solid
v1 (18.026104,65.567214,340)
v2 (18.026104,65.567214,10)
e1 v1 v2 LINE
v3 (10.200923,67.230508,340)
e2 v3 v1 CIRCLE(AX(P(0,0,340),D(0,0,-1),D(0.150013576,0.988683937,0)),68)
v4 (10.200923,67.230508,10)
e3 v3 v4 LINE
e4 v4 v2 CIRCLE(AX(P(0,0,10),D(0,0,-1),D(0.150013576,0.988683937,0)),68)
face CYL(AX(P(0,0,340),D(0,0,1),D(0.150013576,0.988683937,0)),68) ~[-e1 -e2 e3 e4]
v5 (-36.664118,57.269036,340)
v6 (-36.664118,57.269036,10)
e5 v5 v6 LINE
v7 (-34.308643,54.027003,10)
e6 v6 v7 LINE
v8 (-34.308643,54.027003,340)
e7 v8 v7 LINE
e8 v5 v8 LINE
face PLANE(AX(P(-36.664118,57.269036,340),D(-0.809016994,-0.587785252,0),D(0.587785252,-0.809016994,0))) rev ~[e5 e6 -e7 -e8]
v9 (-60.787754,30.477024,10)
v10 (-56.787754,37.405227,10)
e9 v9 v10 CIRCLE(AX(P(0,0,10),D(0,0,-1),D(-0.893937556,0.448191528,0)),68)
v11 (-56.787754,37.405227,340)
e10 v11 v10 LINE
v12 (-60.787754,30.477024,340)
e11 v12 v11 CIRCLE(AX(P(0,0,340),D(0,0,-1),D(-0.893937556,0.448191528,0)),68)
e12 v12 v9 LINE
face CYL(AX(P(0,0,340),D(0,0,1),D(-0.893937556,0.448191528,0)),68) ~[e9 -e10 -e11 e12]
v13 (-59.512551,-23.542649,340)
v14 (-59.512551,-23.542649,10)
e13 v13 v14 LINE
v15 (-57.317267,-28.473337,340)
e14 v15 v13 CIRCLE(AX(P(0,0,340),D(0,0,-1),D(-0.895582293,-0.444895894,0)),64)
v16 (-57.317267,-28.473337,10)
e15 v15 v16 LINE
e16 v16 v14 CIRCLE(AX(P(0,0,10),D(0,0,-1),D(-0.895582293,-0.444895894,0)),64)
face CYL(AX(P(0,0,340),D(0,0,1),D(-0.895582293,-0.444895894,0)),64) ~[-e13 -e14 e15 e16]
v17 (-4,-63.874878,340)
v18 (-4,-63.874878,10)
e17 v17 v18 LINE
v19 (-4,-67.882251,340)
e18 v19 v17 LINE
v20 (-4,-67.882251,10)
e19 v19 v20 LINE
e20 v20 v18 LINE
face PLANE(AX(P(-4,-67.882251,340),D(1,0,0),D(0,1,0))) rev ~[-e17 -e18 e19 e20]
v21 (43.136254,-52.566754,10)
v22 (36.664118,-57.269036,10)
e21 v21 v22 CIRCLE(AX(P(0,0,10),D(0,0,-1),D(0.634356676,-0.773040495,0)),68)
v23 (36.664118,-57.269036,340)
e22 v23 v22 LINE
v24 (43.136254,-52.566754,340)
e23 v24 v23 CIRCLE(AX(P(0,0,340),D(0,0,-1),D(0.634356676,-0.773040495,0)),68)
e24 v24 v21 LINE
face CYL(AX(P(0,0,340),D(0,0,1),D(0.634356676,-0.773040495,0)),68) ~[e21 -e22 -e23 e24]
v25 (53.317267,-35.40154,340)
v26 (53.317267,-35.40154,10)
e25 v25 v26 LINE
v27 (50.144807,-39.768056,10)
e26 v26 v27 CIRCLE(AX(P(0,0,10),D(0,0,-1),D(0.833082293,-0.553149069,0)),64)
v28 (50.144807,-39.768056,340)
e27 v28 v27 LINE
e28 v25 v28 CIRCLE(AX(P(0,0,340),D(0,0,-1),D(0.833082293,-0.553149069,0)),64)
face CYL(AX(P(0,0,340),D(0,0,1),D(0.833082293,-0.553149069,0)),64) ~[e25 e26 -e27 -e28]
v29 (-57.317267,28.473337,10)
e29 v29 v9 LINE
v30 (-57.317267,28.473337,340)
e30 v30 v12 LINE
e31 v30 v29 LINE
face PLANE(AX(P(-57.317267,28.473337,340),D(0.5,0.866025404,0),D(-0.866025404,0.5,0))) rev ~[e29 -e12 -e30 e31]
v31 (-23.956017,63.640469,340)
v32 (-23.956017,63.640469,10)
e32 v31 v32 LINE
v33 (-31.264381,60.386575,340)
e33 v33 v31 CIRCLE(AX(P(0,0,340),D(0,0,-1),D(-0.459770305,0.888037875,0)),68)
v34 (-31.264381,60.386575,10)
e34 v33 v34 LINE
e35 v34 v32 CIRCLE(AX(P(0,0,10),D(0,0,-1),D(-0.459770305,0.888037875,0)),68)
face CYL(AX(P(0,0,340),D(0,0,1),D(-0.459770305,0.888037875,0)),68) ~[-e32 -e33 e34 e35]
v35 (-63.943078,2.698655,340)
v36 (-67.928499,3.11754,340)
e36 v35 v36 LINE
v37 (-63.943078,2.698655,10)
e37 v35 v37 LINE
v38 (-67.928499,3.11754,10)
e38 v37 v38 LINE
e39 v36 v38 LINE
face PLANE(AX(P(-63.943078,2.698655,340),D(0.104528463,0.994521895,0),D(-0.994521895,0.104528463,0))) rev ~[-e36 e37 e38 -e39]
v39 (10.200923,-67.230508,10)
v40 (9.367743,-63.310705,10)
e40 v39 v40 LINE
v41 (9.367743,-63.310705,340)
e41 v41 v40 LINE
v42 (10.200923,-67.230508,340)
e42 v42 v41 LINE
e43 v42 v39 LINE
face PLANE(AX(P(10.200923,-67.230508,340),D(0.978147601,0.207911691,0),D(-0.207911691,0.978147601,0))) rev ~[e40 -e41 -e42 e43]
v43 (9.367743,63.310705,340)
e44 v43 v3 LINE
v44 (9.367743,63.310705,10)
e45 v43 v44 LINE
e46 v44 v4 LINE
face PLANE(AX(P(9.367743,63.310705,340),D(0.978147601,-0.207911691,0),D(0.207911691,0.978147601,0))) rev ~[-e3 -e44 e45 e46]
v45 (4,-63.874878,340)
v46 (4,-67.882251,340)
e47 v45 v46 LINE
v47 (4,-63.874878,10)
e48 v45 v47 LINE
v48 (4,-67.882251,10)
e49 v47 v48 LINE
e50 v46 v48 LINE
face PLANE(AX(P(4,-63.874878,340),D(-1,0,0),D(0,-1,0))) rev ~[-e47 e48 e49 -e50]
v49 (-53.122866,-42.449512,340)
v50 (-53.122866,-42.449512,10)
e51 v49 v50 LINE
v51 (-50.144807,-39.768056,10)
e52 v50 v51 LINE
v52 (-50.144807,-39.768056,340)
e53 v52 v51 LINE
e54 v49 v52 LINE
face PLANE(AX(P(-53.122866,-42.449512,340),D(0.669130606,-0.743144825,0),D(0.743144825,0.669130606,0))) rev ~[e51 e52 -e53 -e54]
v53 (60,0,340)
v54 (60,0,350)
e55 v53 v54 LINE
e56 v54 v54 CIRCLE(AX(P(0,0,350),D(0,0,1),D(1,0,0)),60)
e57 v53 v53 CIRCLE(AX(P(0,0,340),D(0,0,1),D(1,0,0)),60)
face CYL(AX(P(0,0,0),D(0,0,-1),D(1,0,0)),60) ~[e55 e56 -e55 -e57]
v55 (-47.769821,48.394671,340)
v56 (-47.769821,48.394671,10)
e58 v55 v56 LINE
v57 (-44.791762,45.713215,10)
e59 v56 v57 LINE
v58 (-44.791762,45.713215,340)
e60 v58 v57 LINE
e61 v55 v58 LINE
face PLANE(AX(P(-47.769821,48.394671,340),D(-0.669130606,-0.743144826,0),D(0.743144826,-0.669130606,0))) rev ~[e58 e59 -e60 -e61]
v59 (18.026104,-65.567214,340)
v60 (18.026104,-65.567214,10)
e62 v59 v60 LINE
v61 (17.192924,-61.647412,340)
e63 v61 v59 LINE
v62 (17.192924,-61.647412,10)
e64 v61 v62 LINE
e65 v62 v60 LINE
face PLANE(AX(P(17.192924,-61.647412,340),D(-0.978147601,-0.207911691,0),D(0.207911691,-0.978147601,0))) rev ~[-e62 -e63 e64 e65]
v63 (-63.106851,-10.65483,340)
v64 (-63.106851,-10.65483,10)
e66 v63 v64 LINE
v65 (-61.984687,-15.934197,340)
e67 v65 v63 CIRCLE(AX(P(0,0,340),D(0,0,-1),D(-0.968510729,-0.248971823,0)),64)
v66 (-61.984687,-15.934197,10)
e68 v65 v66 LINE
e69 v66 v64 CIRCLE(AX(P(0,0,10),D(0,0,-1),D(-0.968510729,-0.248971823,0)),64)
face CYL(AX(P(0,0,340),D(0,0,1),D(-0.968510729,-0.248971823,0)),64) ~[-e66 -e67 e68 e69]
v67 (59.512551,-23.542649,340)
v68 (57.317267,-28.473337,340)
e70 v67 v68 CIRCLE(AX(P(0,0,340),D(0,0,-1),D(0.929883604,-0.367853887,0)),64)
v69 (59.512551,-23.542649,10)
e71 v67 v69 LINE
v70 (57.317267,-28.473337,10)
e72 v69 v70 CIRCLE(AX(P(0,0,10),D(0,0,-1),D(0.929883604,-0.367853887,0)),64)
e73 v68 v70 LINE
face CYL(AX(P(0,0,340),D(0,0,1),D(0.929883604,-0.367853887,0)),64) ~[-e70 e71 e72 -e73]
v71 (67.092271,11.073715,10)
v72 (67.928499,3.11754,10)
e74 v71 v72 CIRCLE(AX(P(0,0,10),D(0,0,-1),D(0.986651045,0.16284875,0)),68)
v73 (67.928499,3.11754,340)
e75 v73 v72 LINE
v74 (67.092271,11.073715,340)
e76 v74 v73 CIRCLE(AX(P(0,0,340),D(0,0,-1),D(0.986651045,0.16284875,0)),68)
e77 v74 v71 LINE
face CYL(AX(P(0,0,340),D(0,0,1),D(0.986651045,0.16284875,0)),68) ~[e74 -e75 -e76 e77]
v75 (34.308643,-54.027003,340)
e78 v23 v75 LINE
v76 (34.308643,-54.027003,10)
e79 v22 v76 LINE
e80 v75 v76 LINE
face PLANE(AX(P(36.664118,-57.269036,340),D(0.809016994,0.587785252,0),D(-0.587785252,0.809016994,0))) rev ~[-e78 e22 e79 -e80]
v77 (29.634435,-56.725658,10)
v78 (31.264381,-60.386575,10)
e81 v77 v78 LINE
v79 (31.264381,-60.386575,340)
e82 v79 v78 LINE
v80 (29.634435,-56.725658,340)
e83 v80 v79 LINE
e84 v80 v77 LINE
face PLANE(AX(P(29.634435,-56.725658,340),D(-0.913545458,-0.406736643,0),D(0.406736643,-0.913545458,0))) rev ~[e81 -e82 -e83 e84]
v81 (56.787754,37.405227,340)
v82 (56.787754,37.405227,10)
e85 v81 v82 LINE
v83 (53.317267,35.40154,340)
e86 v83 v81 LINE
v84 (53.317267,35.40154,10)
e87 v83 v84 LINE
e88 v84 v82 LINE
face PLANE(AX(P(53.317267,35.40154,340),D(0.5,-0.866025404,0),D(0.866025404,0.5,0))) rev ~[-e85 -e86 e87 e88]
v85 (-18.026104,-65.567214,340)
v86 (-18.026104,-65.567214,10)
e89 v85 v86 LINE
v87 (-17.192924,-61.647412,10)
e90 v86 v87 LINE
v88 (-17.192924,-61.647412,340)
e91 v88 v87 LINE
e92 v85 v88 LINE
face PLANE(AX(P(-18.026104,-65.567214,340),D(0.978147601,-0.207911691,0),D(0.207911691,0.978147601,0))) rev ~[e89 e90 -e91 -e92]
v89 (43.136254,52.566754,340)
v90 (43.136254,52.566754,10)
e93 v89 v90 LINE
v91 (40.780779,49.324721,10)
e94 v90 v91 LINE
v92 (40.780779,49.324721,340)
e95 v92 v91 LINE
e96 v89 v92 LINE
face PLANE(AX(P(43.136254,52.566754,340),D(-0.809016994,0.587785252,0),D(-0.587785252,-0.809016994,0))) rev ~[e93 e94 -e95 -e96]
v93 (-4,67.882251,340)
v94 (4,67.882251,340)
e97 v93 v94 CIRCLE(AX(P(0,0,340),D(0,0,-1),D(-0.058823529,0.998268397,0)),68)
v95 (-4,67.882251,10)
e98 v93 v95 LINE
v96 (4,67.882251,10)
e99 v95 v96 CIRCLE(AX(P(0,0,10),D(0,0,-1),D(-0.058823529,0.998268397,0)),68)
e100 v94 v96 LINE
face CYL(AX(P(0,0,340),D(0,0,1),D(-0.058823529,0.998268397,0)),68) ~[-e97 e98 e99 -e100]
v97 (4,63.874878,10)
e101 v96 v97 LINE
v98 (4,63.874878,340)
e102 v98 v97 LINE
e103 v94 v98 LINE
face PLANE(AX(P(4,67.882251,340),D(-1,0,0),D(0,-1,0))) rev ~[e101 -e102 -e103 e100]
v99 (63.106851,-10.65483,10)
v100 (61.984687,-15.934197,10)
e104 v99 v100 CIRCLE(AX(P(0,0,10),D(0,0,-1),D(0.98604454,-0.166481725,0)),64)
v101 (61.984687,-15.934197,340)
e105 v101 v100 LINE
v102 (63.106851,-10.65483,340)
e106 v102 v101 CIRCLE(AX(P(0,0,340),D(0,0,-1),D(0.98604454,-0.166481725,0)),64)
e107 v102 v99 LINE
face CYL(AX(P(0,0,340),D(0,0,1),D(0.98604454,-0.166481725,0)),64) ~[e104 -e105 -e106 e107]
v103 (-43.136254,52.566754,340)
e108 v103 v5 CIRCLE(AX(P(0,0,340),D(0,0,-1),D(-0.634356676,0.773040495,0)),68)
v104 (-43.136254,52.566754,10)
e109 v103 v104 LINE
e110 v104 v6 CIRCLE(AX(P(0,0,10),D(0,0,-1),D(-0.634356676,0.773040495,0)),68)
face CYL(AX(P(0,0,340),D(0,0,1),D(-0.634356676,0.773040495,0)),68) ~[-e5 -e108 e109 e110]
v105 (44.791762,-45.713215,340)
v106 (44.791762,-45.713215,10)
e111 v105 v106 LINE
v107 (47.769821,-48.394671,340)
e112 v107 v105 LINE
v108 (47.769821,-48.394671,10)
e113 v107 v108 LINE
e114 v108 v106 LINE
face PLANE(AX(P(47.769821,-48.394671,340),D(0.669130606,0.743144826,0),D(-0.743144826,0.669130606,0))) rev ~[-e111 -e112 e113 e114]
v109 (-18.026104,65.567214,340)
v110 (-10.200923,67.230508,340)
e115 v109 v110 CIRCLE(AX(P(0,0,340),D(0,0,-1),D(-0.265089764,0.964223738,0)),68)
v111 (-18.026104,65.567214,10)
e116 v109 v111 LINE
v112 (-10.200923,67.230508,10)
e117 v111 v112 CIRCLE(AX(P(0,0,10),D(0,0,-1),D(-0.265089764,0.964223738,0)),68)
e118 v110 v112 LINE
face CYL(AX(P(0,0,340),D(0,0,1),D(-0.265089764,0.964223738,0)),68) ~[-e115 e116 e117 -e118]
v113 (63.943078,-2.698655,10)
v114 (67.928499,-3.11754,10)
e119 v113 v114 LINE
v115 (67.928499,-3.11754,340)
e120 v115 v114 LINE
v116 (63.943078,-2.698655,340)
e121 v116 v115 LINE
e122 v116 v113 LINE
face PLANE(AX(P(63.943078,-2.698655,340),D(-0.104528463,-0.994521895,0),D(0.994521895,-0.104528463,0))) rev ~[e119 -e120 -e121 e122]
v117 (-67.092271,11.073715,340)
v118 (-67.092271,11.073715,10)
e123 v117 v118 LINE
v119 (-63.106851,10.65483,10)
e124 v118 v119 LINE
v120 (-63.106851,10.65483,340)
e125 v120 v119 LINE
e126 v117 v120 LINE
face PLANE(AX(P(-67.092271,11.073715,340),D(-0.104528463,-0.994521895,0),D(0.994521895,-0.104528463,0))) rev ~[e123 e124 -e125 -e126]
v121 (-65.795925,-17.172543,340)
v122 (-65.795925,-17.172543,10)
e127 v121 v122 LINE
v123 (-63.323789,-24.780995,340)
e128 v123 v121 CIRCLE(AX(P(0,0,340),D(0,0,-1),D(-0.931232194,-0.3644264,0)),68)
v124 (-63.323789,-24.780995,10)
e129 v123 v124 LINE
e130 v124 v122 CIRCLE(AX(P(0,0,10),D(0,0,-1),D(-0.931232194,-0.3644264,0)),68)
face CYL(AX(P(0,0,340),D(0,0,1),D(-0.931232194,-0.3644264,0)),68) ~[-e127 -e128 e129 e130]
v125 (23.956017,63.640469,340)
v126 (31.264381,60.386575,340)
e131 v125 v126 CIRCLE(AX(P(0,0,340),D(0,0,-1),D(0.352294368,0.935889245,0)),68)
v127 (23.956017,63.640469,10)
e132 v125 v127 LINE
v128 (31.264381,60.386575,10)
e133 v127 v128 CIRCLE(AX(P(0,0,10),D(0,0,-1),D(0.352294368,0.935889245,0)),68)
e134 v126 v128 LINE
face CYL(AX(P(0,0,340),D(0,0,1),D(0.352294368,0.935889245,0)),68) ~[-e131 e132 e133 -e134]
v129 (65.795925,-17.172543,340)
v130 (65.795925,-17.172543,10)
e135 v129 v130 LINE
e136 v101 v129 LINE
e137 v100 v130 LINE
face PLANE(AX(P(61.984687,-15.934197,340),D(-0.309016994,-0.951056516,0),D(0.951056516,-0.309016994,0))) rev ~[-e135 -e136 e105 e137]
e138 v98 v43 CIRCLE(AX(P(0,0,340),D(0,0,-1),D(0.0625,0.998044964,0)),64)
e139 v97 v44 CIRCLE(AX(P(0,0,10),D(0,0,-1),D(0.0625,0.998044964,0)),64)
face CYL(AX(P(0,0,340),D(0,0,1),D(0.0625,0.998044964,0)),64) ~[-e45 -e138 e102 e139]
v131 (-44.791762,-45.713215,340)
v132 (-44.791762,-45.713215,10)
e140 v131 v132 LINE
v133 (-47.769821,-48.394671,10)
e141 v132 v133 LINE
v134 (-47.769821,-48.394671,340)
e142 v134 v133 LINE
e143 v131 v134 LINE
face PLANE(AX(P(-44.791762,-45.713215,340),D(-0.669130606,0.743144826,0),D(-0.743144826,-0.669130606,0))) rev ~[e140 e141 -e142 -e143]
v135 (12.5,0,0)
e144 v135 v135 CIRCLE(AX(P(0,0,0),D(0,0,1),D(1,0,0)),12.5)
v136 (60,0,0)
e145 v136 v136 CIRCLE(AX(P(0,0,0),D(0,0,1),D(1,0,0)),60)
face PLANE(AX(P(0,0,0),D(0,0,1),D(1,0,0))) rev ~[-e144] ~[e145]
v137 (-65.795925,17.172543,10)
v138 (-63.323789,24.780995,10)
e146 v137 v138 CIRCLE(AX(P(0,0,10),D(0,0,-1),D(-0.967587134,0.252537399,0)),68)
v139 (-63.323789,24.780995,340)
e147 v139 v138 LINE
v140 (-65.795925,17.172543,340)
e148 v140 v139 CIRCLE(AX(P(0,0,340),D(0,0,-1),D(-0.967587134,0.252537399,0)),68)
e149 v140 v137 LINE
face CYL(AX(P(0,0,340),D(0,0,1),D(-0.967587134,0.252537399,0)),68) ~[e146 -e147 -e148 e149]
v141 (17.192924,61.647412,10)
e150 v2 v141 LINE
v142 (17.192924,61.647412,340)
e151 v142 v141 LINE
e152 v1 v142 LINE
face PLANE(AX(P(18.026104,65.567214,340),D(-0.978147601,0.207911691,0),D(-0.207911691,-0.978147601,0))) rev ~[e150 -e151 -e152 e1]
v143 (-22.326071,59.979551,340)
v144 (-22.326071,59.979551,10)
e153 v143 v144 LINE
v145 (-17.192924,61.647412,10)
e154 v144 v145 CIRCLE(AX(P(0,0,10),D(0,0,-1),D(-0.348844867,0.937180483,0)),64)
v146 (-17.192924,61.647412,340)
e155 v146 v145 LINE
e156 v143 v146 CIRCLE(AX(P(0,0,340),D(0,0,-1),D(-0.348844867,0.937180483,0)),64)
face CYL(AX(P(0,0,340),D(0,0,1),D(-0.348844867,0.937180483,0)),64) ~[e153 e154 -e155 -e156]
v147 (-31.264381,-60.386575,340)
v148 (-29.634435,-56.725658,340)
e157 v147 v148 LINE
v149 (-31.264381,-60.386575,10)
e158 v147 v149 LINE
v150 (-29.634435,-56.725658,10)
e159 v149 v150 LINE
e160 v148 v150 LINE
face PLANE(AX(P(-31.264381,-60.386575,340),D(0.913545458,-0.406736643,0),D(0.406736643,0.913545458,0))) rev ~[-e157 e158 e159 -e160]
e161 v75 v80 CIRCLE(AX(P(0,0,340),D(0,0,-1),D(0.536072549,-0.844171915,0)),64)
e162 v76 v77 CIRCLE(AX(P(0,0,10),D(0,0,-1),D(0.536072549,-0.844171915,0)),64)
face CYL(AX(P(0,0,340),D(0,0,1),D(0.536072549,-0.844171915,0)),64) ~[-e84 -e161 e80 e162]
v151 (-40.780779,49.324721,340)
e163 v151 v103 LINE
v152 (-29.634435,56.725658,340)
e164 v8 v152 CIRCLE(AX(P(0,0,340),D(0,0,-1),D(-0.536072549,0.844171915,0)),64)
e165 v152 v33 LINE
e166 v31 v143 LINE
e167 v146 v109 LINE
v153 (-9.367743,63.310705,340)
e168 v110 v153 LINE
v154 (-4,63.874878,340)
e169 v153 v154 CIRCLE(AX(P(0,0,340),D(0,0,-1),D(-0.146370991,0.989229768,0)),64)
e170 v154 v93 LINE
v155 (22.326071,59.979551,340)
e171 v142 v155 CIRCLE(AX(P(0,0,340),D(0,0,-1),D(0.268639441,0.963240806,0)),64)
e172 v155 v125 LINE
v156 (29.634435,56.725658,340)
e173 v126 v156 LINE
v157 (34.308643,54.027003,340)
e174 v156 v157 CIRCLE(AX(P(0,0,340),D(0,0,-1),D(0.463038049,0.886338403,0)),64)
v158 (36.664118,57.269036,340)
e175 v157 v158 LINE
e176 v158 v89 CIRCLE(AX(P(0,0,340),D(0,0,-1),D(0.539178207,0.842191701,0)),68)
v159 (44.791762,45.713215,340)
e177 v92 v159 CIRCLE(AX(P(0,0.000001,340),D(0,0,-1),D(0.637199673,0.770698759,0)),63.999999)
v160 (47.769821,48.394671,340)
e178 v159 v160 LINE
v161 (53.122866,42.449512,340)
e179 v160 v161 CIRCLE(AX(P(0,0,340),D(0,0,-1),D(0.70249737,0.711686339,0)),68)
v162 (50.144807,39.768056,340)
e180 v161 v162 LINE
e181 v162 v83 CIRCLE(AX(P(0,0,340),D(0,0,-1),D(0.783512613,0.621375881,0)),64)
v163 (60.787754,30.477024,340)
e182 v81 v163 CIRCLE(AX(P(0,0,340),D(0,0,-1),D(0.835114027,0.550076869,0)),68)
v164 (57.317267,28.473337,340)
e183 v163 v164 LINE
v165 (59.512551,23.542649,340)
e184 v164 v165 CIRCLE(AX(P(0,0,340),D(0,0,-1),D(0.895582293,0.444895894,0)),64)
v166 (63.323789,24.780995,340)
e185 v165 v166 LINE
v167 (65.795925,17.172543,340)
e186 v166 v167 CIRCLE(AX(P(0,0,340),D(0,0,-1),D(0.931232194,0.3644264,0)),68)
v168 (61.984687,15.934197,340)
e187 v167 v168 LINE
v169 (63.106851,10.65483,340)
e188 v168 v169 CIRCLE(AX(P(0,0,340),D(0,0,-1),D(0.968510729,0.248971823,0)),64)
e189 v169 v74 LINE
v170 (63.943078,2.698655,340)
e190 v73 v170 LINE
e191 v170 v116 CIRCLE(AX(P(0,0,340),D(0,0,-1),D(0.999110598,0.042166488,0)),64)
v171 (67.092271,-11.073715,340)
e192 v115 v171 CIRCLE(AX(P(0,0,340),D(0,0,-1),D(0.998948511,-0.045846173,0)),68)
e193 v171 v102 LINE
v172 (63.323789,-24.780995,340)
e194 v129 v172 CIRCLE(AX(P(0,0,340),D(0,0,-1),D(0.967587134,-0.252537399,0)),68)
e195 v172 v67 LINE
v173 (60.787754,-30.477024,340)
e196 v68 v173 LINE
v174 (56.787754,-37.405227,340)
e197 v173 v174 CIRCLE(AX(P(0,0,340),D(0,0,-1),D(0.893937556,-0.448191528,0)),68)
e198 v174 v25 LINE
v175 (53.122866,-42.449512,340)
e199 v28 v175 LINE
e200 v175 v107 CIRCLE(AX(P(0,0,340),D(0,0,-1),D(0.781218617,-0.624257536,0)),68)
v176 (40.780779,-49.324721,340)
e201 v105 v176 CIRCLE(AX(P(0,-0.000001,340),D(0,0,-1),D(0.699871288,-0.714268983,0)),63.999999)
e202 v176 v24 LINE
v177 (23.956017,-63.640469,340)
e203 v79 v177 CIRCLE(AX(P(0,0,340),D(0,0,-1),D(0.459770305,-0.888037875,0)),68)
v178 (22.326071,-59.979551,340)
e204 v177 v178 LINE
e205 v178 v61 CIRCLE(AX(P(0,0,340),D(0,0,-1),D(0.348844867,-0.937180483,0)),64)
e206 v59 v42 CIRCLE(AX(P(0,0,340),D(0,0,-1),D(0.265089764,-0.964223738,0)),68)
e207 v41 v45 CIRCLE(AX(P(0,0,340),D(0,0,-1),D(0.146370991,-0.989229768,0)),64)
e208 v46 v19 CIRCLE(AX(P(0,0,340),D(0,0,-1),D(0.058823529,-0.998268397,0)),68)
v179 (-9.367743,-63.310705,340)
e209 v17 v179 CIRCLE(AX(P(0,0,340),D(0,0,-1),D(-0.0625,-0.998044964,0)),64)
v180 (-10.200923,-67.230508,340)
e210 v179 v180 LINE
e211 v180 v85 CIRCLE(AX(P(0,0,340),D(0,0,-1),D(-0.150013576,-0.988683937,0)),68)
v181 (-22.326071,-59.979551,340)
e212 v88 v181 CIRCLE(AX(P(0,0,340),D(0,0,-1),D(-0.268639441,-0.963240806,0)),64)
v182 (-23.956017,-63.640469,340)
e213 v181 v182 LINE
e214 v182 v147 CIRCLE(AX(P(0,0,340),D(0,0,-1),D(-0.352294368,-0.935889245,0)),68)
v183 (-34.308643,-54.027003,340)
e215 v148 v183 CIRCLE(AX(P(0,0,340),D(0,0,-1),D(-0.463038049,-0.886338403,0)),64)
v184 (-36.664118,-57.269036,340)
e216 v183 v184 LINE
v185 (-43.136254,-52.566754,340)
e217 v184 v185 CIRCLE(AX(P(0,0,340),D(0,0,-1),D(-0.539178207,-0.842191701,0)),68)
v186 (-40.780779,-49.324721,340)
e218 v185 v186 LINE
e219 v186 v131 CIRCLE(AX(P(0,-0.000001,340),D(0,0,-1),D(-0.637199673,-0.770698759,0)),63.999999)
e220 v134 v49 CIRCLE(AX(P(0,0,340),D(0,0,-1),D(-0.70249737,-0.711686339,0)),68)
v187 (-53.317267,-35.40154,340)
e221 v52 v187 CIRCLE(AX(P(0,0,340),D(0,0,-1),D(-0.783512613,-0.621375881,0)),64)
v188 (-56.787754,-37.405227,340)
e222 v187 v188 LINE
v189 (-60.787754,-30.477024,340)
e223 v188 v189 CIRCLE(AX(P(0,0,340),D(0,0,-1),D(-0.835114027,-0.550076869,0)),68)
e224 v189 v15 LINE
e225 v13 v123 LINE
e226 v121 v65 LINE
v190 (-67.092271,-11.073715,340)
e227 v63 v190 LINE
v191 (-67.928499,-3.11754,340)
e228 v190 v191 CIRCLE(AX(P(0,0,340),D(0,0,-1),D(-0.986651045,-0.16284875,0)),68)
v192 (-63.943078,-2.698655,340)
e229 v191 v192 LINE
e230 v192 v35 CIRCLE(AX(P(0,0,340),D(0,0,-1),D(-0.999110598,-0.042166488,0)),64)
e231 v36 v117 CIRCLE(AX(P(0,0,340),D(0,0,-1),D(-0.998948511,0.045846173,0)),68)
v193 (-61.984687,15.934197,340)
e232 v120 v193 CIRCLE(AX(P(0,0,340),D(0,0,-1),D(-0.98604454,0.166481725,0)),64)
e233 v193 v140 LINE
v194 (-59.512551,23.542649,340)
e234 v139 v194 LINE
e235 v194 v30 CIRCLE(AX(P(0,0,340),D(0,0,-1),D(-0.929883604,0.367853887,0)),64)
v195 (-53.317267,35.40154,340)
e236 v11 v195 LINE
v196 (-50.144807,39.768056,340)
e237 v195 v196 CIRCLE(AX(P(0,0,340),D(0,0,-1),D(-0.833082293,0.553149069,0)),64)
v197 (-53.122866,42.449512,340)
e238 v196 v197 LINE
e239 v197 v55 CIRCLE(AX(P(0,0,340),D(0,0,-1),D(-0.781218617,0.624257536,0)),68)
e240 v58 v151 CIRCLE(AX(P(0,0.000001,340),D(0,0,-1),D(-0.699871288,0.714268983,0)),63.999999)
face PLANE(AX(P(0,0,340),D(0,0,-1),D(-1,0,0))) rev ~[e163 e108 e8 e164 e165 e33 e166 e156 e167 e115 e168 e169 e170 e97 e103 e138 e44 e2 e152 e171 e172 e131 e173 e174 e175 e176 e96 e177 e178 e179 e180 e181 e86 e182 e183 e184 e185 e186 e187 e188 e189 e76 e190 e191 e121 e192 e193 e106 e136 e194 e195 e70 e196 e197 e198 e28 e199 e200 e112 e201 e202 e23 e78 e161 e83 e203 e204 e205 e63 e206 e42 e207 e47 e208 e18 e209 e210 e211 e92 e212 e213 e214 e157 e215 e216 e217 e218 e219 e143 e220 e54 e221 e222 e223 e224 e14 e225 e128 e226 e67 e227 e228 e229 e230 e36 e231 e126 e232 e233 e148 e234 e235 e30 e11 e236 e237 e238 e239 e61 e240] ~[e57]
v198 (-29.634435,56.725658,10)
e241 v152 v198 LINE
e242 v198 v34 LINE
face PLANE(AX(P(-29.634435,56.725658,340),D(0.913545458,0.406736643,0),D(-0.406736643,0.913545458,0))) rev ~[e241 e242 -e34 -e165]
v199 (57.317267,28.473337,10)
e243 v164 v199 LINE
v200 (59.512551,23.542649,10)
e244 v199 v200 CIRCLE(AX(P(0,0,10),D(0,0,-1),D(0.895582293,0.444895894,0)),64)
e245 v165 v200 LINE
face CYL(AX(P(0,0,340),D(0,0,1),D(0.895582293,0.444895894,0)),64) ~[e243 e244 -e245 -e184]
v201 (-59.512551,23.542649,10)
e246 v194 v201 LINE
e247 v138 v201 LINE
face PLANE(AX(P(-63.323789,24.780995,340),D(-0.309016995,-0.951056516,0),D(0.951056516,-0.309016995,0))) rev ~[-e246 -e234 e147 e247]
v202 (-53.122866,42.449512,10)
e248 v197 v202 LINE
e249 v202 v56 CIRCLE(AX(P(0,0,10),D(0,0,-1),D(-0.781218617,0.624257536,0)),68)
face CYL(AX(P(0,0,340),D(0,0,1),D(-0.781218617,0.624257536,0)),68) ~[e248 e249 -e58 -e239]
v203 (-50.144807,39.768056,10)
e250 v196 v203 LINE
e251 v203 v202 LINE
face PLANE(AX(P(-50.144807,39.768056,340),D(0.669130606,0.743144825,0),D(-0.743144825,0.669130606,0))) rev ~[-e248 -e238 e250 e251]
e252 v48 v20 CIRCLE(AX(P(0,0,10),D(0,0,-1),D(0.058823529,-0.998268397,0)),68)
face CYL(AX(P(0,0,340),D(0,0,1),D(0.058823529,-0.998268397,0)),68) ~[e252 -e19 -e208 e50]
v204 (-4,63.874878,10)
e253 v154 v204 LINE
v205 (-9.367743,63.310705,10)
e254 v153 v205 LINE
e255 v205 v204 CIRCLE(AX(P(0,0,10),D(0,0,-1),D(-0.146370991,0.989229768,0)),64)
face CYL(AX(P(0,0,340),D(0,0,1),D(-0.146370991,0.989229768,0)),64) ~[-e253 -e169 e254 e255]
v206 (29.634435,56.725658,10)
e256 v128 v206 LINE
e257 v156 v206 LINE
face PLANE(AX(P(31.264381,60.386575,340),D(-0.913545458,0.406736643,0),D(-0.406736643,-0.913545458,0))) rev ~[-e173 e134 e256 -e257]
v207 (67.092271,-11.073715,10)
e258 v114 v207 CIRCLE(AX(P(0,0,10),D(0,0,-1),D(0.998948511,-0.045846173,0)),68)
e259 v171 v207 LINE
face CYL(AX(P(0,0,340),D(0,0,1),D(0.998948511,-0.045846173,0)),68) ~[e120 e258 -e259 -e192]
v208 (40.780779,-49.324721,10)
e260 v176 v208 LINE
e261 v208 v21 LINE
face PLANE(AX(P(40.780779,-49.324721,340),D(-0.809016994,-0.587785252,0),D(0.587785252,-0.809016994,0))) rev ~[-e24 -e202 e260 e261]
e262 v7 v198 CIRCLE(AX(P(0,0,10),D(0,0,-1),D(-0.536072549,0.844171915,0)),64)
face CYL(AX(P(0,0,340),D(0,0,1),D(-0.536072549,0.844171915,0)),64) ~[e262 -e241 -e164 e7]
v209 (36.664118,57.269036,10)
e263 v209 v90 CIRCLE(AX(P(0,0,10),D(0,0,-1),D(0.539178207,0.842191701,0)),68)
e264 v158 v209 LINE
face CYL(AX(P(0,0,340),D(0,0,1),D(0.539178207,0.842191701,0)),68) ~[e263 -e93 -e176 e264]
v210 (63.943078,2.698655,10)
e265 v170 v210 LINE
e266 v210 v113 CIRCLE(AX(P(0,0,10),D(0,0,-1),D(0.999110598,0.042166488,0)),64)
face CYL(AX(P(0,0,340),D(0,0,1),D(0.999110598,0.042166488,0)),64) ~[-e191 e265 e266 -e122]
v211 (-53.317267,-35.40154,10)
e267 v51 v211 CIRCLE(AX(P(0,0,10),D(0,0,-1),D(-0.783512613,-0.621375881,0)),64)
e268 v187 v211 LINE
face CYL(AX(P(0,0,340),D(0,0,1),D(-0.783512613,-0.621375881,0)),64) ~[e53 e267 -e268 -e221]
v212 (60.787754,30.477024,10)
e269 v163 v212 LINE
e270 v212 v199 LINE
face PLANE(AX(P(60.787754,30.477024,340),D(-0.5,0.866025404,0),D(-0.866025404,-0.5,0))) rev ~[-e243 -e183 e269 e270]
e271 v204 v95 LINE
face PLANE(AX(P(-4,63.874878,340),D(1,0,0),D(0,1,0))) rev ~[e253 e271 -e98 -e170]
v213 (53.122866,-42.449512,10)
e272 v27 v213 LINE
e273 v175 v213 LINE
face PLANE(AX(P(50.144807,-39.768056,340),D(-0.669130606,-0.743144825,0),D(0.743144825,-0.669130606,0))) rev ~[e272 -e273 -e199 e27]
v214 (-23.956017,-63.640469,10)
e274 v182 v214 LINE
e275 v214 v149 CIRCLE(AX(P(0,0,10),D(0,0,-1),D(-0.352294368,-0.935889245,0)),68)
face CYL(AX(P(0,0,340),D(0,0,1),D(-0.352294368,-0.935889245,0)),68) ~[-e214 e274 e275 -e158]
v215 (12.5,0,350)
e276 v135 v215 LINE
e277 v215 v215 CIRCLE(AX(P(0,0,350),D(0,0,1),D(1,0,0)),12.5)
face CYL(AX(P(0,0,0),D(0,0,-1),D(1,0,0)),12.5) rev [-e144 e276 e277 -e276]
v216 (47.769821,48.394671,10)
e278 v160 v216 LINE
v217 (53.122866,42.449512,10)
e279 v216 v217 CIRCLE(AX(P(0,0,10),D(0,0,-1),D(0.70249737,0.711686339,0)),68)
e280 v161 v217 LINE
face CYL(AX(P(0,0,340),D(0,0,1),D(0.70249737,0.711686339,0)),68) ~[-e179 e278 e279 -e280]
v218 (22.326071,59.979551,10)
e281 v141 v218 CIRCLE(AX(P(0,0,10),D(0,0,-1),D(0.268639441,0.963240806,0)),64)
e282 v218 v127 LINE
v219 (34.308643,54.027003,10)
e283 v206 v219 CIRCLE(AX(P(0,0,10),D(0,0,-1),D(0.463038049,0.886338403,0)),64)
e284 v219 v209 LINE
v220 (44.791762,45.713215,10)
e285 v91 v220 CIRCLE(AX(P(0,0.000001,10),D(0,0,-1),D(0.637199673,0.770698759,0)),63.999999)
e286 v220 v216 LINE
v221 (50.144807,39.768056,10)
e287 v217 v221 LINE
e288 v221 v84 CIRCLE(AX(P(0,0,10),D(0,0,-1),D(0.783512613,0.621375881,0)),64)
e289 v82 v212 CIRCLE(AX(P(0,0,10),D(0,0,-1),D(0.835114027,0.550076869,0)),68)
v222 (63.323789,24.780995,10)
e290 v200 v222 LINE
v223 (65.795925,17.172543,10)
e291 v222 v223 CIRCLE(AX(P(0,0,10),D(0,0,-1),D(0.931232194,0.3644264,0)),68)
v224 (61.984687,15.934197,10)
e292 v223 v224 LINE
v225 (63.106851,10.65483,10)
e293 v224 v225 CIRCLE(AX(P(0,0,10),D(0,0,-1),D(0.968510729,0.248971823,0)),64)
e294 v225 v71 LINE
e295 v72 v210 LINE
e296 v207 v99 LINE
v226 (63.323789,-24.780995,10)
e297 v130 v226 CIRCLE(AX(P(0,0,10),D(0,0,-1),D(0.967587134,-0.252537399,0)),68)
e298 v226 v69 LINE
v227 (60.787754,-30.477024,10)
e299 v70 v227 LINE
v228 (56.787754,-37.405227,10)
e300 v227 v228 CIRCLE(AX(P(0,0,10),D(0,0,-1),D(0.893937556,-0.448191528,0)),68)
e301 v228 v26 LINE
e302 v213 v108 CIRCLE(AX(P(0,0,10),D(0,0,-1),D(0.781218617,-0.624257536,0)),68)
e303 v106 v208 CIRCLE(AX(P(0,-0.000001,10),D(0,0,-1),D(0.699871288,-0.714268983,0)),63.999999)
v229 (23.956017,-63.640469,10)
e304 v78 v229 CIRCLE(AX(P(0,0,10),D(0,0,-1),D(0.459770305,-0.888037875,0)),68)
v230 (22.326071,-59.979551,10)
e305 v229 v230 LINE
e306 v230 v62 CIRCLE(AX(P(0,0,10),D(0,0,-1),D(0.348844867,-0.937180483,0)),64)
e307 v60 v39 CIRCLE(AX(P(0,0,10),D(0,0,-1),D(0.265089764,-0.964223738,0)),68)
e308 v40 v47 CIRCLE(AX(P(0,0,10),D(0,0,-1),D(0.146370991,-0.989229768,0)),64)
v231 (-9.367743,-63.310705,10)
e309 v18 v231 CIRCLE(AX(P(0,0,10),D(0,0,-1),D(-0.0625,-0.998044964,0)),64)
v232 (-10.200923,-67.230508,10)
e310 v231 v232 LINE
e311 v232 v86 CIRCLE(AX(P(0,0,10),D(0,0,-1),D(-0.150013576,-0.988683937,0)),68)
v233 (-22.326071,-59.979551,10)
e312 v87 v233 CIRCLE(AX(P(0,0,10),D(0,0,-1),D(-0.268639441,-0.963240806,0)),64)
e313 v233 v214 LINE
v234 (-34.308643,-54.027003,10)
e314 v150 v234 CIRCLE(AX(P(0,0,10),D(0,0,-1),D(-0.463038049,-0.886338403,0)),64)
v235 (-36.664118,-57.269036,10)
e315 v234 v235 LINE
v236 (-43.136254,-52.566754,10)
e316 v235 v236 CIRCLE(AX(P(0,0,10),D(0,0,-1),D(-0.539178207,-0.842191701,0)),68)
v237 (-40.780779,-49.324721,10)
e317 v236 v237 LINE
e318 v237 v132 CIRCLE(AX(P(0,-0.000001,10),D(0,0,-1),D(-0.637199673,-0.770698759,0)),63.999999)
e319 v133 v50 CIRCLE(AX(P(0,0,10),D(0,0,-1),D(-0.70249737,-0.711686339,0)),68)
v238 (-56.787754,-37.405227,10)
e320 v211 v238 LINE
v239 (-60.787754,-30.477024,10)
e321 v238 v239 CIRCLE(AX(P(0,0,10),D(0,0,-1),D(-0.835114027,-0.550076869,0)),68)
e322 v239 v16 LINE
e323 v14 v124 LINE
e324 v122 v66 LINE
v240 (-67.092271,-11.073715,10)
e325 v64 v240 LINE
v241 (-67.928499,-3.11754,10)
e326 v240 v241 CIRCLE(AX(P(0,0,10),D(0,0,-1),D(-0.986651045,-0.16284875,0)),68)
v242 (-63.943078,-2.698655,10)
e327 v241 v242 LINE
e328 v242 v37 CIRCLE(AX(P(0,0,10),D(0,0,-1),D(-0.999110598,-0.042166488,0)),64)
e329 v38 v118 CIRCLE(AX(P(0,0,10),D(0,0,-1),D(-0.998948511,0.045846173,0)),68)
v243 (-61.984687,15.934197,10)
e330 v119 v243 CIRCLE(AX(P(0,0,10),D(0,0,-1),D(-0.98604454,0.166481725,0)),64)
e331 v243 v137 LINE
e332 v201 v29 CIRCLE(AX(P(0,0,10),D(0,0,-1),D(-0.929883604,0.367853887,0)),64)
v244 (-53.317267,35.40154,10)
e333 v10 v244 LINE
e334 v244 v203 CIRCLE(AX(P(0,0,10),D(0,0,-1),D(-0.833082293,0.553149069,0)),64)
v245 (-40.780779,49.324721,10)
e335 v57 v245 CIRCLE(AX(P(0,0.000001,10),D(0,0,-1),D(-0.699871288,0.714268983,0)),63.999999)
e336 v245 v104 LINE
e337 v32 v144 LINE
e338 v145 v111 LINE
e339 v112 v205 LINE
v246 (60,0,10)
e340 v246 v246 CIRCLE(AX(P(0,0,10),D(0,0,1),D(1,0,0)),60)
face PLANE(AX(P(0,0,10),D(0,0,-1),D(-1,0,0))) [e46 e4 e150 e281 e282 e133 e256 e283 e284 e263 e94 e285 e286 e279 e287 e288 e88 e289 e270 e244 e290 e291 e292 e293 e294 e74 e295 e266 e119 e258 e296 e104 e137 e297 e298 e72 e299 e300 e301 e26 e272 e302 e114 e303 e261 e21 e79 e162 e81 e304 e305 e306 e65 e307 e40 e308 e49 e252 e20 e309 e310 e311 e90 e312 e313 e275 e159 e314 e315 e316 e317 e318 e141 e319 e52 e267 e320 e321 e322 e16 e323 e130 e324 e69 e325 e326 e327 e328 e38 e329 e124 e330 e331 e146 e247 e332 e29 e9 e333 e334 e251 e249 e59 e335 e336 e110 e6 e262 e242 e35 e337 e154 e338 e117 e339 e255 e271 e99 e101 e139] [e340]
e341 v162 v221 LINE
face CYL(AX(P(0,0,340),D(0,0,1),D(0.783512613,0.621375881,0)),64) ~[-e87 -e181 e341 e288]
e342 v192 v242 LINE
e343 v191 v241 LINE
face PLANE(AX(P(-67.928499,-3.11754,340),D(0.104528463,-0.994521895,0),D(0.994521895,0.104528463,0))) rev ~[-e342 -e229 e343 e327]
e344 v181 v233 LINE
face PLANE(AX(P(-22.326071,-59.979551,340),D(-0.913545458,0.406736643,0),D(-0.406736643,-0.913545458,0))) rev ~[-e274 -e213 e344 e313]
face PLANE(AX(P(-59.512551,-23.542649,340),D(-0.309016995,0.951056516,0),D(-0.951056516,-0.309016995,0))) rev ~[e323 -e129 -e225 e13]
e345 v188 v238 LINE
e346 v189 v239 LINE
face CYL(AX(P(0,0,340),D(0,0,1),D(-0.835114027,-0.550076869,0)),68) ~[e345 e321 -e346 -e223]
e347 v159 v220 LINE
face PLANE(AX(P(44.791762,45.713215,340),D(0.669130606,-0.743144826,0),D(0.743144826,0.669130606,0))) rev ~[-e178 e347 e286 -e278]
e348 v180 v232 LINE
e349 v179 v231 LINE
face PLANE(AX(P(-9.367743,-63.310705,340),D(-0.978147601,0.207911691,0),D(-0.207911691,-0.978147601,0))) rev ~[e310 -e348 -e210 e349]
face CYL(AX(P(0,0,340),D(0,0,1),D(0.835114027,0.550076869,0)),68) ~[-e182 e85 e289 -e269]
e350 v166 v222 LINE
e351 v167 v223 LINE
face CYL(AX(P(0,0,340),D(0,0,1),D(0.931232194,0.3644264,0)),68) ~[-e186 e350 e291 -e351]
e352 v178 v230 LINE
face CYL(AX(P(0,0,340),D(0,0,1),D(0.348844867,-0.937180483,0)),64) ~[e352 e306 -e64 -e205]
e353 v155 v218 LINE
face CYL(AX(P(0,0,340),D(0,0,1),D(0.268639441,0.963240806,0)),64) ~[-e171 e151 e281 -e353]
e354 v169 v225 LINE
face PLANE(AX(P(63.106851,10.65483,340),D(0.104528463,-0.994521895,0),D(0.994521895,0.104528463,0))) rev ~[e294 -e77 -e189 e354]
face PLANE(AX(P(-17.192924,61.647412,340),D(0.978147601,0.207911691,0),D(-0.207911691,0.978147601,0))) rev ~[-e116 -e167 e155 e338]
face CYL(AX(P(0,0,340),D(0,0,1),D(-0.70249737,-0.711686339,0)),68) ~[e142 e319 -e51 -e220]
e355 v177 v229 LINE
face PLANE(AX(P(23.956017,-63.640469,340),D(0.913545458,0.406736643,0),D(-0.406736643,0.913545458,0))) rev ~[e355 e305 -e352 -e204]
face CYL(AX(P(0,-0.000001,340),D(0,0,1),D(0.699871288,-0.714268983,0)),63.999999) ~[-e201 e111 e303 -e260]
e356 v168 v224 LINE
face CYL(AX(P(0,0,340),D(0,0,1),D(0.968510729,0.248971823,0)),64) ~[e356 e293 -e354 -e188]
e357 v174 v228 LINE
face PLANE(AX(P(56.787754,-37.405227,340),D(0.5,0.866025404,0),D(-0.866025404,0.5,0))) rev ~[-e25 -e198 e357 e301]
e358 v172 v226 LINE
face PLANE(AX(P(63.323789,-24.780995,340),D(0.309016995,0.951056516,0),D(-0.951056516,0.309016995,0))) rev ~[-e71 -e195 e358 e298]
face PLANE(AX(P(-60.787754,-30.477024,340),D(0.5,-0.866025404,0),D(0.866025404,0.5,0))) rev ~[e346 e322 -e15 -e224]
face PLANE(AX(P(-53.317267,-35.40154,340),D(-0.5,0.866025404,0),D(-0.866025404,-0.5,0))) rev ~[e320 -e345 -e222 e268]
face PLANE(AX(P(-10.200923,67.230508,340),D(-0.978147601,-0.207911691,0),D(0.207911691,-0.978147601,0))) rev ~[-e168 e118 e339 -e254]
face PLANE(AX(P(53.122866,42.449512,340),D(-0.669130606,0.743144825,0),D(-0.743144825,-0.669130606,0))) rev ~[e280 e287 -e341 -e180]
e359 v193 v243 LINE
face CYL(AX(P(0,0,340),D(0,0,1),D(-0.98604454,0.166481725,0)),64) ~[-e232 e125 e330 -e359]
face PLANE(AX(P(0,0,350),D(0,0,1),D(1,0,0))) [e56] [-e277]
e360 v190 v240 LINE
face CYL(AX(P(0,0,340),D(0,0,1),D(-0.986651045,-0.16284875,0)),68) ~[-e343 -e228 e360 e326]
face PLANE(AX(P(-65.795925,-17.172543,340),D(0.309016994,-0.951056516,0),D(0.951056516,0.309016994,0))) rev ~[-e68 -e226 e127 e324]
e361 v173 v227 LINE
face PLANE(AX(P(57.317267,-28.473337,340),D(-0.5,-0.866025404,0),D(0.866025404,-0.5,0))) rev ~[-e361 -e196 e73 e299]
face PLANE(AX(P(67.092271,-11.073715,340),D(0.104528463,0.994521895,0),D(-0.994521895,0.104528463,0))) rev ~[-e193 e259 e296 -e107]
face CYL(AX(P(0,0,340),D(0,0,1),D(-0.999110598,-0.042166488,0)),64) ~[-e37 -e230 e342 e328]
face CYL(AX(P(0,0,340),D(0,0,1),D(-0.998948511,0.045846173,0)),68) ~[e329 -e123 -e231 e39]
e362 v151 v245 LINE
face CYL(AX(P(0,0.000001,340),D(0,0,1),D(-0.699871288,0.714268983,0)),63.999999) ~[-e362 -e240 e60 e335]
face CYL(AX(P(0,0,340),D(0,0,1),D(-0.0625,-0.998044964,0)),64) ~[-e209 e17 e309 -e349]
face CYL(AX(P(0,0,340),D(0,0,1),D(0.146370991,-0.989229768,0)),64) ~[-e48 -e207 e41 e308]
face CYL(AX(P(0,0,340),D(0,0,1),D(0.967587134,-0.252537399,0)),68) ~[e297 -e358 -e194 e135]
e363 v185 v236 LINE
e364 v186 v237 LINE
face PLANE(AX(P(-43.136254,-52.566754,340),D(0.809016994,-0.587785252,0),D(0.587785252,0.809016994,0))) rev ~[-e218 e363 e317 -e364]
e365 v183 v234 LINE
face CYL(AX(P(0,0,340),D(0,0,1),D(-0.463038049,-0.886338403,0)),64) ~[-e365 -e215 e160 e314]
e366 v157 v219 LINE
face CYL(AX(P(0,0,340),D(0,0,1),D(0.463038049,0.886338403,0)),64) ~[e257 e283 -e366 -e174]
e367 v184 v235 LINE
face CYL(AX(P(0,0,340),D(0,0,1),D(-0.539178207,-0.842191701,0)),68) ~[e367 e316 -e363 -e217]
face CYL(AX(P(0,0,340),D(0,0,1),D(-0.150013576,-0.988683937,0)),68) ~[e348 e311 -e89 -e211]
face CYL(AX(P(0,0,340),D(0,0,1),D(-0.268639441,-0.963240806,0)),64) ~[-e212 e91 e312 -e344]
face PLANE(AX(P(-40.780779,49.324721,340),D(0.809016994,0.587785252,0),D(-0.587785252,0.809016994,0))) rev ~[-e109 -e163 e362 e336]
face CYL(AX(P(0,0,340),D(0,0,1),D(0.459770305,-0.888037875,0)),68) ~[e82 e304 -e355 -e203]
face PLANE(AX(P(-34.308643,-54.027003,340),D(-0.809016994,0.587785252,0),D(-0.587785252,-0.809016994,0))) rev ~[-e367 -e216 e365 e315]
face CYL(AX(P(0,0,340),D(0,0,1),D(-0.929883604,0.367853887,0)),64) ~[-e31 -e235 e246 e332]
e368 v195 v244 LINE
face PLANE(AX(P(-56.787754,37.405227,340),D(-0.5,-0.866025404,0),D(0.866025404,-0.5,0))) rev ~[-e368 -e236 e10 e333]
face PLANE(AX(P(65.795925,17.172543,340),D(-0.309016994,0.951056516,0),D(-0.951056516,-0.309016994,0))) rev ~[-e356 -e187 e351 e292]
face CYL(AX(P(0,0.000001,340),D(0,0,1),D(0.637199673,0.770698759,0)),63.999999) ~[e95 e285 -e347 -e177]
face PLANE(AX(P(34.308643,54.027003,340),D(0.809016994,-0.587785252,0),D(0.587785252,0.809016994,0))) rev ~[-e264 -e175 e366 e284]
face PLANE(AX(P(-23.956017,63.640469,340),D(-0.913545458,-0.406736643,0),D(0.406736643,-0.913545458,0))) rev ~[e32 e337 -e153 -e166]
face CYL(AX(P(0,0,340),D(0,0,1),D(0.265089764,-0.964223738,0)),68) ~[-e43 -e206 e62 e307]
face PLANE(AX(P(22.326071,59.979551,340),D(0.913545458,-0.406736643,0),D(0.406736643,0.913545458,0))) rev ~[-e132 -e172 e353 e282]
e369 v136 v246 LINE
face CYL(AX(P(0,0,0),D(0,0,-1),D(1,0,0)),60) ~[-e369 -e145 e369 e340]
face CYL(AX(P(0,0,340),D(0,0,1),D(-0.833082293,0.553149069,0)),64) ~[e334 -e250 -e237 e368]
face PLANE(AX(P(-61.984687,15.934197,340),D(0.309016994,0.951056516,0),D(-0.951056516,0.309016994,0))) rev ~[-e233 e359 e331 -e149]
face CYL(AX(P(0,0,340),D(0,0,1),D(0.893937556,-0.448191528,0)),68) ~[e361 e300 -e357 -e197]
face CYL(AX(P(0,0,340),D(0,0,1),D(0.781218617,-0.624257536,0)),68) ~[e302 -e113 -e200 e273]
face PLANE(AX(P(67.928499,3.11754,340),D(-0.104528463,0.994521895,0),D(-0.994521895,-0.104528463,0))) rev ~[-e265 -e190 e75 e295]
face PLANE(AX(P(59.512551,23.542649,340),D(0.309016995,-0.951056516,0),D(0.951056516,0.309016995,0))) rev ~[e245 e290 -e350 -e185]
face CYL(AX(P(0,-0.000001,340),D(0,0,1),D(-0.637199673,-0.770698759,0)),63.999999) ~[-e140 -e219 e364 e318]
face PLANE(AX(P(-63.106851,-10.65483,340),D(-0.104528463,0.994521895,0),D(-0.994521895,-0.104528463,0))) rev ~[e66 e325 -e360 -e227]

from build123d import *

# Parameters (mm, degrees)
SKETCH1_R           = 60
SKETCH1_R_2         = 12.5
BOSS_EXTRUDE1_DEPTH = 350
SKETCH2_R           = 60
BOSS_EXTRUDE2_DEPTH = 330


with BuildPart() as part:
    # Sketch1 → Boss-Extrude1 (new body)
    with BuildSketch(Plane.XY):
        Circle(SKETCH1_R)
        Circle(SKETCH1_R_2, mode=Mode.SUBTRACT)
    extrude(amount=BOSS_EXTRUDE1_DEPTH)

    # Sketch2 → Boss-Extrude2 (add)
    with BuildSketch(Plane.XY.offset(340)):
        with BuildLine():
            Line((9.367743419, 63.310705124), (10.200923178, 67.230507705))
            ThreePointArc((10.200923178, 67.230507705), (14.137994976, 66.51403685), (18.026103984, 65.567214179))
            Line((18.026103984, 65.567214179), (17.192924224, 61.647411597))
            ThreePointArc((17.192924224, 61.647411597), (19.77708764, 60.867617043), (22.326071498, 59.979550944))
            Line((22.326071498, 59.979550944), (23.956017063, 63.640468622))
            ThreePointArc((23.956017063, 63.640468622), (27.658091729, 62.12109112), (31.264380724, 60.386575478))
            Line((31.264380724, 60.386575478), (29.634435159, 56.725657799))
            ThreePointArc((29.634435159, 56.725657799), (32, 55.425625842), (34.308643121, 54.027002575))
            Line((34.308643121, 54.027002575), (36.664118049, 57.26903568))
            ThreePointArc((36.664118049, 57.26903568), (39.969397156, 55.013155617), (43.136254004, 52.566753661))
            Line((43.136254004, 52.566753661), (40.780779076, 49.324720556))
            ThreePointArc((40.780779076, 49.324720556), (42.824358807, 47.561268831), (44.791762408, 45.713214942))
            Line((44.791762408, 45.713214942), (47.769821142, 48.39467107))
            ThreePointArc((47.769821142, 48.39467107), (50.533848132, 45.500881232), (53.122865993, 42.449512467))
            Line((53.122865993, 42.449512467), (50.144807259, 39.768056338))
            ThreePointArc((50.144807259, 39.768056338), (51.77708764, 37.618256147), (53.317266744, 35.40154046))
            Line((53.317266744, 35.40154046), (56.787753827, 37.405227112))
            ThreePointArc((56.787753827, 37.405227112), (58.889727457, 34), (60.787753827, 30.477023882))
            Line((60.787753827, 30.477023882), (57.317266744, 28.47333723))
            ThreePointArc((57.317266744, 28.47333723), (58.466909289, 26.031145157), (59.512550678, 23.542648785))
            Line((59.512550678, 23.542648785), (63.323789171, 24.780995239))
            ThreePointArc((63.323789171, 24.780995239), (64.671843108, 21.013155617), (65.795925126, 17.172543108))
            Line((65.795925126, 17.172543108), (61.984686633, 15.934196655))
            ThreePointArc((61.984686633, 15.934196655), (62.601446447, 13.306348212), (63.106850574, 10.654830388))
            Line((63.106850574, 10.654830388), (67.092271067, 11.073714961))
            ThreePointArc((67.092271067, 11.073714961), (67.627488885, 7.107935502), (67.928498773, 3.117539798))
            Line((67.928498773, 3.117539798), (63.94307828, 2.698655225))
            ThreePointArc((63.94307828, 2.698655225), (64, 0), (63.94307828, -2.698655225))
            Line((63.94307828, -2.698655225), (67.928498773, -3.117539798))
            ThreePointArc((67.928498773, -3.117539798), (67.627488885, -7.107935502), (67.092271067, -11.073714961))
            Line((67.092271067, -11.073714961), (63.106850574, -10.654830388))
            ThreePointArc((63.106850574, -10.654830388), (62.601446447, -13.306348212), (61.984686633, -15.934196655))
            Line((61.984686633, -15.934196655), (65.795925126, -17.172543108))
            ThreePointArc((65.795925126, -17.172543108), (64.671843108, -21.013155617), (63.323789171, -24.780995239))
            Line((63.323789171, -24.780995239), (59.512550678, -23.542648785))
            ThreePointArc((59.512550678, -23.542648785), (58.466909289, -26.031145157), (57.317266744, -28.47333723))
            Line((57.317266744, -28.47333723), (60.787753827, -30.477023882))
            ThreePointArc((60.787753827, -30.477023882), (58.889727457, -34), (56.787753827, -37.405227112))
            Line((56.787753827, -37.405227112), (53.317266744, -35.40154046))
            ThreePointArc((53.317266744, -35.40154046), (51.77708764, -37.618256147), (50.144807259, -39.768056338))
            Line((50.144807259, -39.768056338), (53.122865993, -42.449512467))
            ThreePointArc((53.122865993, -42.449512467), (50.533848132, -45.500881232), (47.769821142, -48.39467107))
            Line((47.769821142, -48.39467107), (44.791762408, -45.713214942))
            ThreePointArc((44.791762408, -45.713214942), (42.824358807, -47.561268831), (40.780779076, -49.324720556))
            Line((40.780779076, -49.324720556), (43.136254004, -52.566753661))
            ThreePointArc((43.136254004, -52.566753661), (39.969397156, -55.013155617), (36.664118049, -57.26903568))
            Line((36.664118049, -57.26903568), (34.308643121, -54.027002575))
            ThreePointArc((34.308643121, -54.027002575), (32, -55.425625842), (29.634435159, -56.725657799))
            Line((29.634435159, -56.725657799), (31.264380724, -60.386575478))
            ThreePointArc((31.264380724, -60.386575478), (27.658091729, -62.12109112), (23.956017063, -63.640468622))
            Line((23.956017063, -63.640468622), (22.326071498, -59.979550944))
            ThreePointArc((22.326071498, -59.979550944), (19.77708764, -60.867617043), (17.192924224, -61.647411597))
            Line((17.192924224, -61.647411597), (18.026103984, -65.567214179))
            ThreePointArc((18.026103984, -65.567214179), (14.137994976, -66.51403685), (10.200923178, -67.230507705))
            Line((10.200923178, -67.230507705), (9.367743419, -63.310705124))
            ThreePointArc((9.367743419, -63.310705124), (6.689821649, -63.649401304), (4, -63.874877691))
            Line((4, -63.874877691), (4, -67.882250994))
            ThreePointArc((4, -67.882250994), (0, -68), (-4, -67.882250994))
            Line((-4, -67.882250994), (-4, -63.874877691))
            ThreePointArc((-4, -63.874877691), (-6.689821649, -63.649401304), (-9.367743419, -63.310705124))
            Line((-9.367743419, -63.310705124), (-10.200923178, -67.230507705))
            ThreePointArc((-10.200923178, -67.230507705), (-14.137994976, -66.51403685), (-18.026103984, -65.567214179))
            Line((-18.026103984, -65.567214179), (-17.192924224, -61.647411597))
            ThreePointArc((-17.192924224, -61.647411597), (-19.77708764, -60.867617043), (-22.326071498, -59.979550944))
            Line((-22.326071498, -59.979550944), (-23.956017063, -63.640468622))
            ThreePointArc((-23.956017063, -63.640468622), (-27.658091729, -62.12109112), (-31.264380724, -60.386575478))
            Line((-31.264380724, -60.386575478), (-29.634435159, -56.725657799))
            ThreePointArc((-29.634435159, -56.725657799), (-32, -55.425625842), (-34.308643121, -54.027002575))
            Line((-34.308643121, -54.027002575), (-36.664118049, -57.26903568))
            ThreePointArc((-36.664118049, -57.26903568), (-39.969397156, -55.013155617), (-43.136254004, -52.566753661))
            Line((-43.136254004, -52.566753661), (-40.780779076, -49.324720556))
            ThreePointArc((-40.780779076, -49.324720556), (-42.824358807, -47.561268831), (-44.791762408, -45.713214942))
            Line((-44.791762408, -45.713214942), (-47.769821142, -48.39467107))
            ThreePointArc((-47.769821142, -48.39467107), (-50.533848132, -45.500881232), (-53.122865993, -42.449512467))
            Line((-53.122865993, -42.449512467), (-50.144807259, -39.768056338))
            ThreePointArc((-50.144807259, -39.768056338), (-51.77708764, -37.618256147), (-53.317266744, -35.40154046))
            Line((-53.317266744, -35.40154046), (-56.787753827, -37.405227112))
            ThreePointArc((-56.787753827, -37.405227112), (-58.889727457, -34), (-60.787753827, -30.477023882))
            Line((-60.787753827, -30.477023882), (-57.317266744, -28.47333723))
            ThreePointArc((-57.317266744, -28.47333723), (-58.466909289, -26.031145157), (-59.512550678, -23.542648785))
            Line((-59.512550678, -23.542648785), (-63.323789171, -24.780995239))
            ThreePointArc((-63.323789171, -24.780995239), (-64.671843108, -21.013155617), (-65.795925126, -17.172543108))
            Line((-65.795925126, -17.172543108), (-61.984686633, -15.934196655))
            ThreePointArc((-61.984686633, -15.934196655), (-62.601446447, -13.306348212), (-63.106850574, -10.654830388))
            Line((-63.106850574, -10.654830388), (-67.092271067, -11.073714961))
            ThreePointArc((-67.092271067, -11.073714961), (-67.627488885, -7.107935502), (-67.928498773, -3.117539798))
            Line((-67.928498773, -3.117539798), (-63.94307828, -2.698655225))
            ThreePointArc((-63.94307828, -2.698655225), (-64, 0), (-63.94307828, 2.698655225))
            Line((-63.94307828, 2.698655225), (-67.928498773, 3.117539798))
            ThreePointArc((-67.928498773, 3.117539798), (-67.627488885, 7.107935502), (-67.092271067, 11.073714961))
            Line((-67.092271067, 11.073714961), (-63.106850574, 10.654830388))
            ThreePointArc((-63.106850574, 10.654830388), (-62.601446447, 13.306348212), (-61.984686633, 15.934196655))
            Line((-61.984686633, 15.934196655), (-65.795925126, 17.172543108))
            ThreePointArc((-65.795925126, 17.172543108), (-64.671843108, 21.013155617), (-63.323789171, 24.780995239))
            Line((-63.323789171, 24.780995239), (-59.512550678, 23.542648785))
            ThreePointArc((-59.512550678, 23.542648785), (-58.466909289, 26.031145157), (-57.317266744, 28.47333723))
            Line((-57.317266744, 28.47333723), (-60.787753827, 30.477023882))
            ThreePointArc((-60.787753827, 30.477023882), (-58.889727457, 34), (-56.787753827, 37.405227112))
            Line((-56.787753827, 37.405227112), (-53.317266744, 35.40154046))
            ThreePointArc((-53.317266744, 35.40154046), (-51.77708764, 37.618256147), (-50.144807259, 39.768056338))
            Line((-50.144807259, 39.768056338), (-53.122865993, 42.449512467))
            ThreePointArc((-53.122865993, 42.449512467), (-50.533848132, 45.500881232), (-47.769821142, 48.39467107))
            Line((-47.769821142, 48.39467107), (-44.791762408, 45.713214942))
            ThreePointArc((-44.791762408, 45.713214942), (-42.824358807, 47.561268831), (-40.780779076, 49.324720556))
            Line((-40.780779076, 49.324720556), (-43.136254004, 52.566753661))
            ThreePointArc((-43.136254004, 52.566753661), (-39.969397156, 55.013155617), (-36.664118049, 57.26903568))
            Line((-36.664118049, 57.26903568), (-34.308643121, 54.027002575))
            ThreePointArc((-34.308643121, 54.027002575), (-32, 55.425625842), (-29.634435159, 56.725657799))
            Line((-29.634435159, 56.725657799), (-31.264380724, 60.386575478))
            ThreePointArc((-31.264380724, 60.386575478), (-27.658091729, 62.12109112), (-23.956017063, 63.640468622))
            Line((-23.956017063, 63.640468622), (-22.326071498, 59.979550944))
            ThreePointArc((-22.326071498, 59.979550944), (-19.77708764, 60.867617043), (-17.192924224, 61.647411597))
            Line((-17.192924224, 61.647411597), (-18.026103984, 65.567214179))
            ThreePointArc((-18.026103984, 65.567214179), (-14.137994976, 66.51403685), (-10.200923178, 67.230507705))
            Line((-10.200923178, 67.230507705), (-9.367743419, 63.310705124))
            ThreePointArc((-9.367743419, 63.310705124), (-6.689821649, 63.649401304), (-4, 63.874877691))
            Line((-4, 63.874877691), (-4, 67.882250994))
            ThreePointArc((-4, 67.882250994), (0, 68), (4, 67.882250994))
            Line((4, 67.882250994), (4, 63.874877691))
            ThreePointArc((4, 63.874877691), (6.689821649, 63.649401304), (9.367743419, 63.310705124))
        make_face()
        Circle(SKETCH2_R, mode=Mode.SUBTRACT)
    extrude(amount=-BOSS_EXTRUDE2_DEPTH)


solid = part.part
